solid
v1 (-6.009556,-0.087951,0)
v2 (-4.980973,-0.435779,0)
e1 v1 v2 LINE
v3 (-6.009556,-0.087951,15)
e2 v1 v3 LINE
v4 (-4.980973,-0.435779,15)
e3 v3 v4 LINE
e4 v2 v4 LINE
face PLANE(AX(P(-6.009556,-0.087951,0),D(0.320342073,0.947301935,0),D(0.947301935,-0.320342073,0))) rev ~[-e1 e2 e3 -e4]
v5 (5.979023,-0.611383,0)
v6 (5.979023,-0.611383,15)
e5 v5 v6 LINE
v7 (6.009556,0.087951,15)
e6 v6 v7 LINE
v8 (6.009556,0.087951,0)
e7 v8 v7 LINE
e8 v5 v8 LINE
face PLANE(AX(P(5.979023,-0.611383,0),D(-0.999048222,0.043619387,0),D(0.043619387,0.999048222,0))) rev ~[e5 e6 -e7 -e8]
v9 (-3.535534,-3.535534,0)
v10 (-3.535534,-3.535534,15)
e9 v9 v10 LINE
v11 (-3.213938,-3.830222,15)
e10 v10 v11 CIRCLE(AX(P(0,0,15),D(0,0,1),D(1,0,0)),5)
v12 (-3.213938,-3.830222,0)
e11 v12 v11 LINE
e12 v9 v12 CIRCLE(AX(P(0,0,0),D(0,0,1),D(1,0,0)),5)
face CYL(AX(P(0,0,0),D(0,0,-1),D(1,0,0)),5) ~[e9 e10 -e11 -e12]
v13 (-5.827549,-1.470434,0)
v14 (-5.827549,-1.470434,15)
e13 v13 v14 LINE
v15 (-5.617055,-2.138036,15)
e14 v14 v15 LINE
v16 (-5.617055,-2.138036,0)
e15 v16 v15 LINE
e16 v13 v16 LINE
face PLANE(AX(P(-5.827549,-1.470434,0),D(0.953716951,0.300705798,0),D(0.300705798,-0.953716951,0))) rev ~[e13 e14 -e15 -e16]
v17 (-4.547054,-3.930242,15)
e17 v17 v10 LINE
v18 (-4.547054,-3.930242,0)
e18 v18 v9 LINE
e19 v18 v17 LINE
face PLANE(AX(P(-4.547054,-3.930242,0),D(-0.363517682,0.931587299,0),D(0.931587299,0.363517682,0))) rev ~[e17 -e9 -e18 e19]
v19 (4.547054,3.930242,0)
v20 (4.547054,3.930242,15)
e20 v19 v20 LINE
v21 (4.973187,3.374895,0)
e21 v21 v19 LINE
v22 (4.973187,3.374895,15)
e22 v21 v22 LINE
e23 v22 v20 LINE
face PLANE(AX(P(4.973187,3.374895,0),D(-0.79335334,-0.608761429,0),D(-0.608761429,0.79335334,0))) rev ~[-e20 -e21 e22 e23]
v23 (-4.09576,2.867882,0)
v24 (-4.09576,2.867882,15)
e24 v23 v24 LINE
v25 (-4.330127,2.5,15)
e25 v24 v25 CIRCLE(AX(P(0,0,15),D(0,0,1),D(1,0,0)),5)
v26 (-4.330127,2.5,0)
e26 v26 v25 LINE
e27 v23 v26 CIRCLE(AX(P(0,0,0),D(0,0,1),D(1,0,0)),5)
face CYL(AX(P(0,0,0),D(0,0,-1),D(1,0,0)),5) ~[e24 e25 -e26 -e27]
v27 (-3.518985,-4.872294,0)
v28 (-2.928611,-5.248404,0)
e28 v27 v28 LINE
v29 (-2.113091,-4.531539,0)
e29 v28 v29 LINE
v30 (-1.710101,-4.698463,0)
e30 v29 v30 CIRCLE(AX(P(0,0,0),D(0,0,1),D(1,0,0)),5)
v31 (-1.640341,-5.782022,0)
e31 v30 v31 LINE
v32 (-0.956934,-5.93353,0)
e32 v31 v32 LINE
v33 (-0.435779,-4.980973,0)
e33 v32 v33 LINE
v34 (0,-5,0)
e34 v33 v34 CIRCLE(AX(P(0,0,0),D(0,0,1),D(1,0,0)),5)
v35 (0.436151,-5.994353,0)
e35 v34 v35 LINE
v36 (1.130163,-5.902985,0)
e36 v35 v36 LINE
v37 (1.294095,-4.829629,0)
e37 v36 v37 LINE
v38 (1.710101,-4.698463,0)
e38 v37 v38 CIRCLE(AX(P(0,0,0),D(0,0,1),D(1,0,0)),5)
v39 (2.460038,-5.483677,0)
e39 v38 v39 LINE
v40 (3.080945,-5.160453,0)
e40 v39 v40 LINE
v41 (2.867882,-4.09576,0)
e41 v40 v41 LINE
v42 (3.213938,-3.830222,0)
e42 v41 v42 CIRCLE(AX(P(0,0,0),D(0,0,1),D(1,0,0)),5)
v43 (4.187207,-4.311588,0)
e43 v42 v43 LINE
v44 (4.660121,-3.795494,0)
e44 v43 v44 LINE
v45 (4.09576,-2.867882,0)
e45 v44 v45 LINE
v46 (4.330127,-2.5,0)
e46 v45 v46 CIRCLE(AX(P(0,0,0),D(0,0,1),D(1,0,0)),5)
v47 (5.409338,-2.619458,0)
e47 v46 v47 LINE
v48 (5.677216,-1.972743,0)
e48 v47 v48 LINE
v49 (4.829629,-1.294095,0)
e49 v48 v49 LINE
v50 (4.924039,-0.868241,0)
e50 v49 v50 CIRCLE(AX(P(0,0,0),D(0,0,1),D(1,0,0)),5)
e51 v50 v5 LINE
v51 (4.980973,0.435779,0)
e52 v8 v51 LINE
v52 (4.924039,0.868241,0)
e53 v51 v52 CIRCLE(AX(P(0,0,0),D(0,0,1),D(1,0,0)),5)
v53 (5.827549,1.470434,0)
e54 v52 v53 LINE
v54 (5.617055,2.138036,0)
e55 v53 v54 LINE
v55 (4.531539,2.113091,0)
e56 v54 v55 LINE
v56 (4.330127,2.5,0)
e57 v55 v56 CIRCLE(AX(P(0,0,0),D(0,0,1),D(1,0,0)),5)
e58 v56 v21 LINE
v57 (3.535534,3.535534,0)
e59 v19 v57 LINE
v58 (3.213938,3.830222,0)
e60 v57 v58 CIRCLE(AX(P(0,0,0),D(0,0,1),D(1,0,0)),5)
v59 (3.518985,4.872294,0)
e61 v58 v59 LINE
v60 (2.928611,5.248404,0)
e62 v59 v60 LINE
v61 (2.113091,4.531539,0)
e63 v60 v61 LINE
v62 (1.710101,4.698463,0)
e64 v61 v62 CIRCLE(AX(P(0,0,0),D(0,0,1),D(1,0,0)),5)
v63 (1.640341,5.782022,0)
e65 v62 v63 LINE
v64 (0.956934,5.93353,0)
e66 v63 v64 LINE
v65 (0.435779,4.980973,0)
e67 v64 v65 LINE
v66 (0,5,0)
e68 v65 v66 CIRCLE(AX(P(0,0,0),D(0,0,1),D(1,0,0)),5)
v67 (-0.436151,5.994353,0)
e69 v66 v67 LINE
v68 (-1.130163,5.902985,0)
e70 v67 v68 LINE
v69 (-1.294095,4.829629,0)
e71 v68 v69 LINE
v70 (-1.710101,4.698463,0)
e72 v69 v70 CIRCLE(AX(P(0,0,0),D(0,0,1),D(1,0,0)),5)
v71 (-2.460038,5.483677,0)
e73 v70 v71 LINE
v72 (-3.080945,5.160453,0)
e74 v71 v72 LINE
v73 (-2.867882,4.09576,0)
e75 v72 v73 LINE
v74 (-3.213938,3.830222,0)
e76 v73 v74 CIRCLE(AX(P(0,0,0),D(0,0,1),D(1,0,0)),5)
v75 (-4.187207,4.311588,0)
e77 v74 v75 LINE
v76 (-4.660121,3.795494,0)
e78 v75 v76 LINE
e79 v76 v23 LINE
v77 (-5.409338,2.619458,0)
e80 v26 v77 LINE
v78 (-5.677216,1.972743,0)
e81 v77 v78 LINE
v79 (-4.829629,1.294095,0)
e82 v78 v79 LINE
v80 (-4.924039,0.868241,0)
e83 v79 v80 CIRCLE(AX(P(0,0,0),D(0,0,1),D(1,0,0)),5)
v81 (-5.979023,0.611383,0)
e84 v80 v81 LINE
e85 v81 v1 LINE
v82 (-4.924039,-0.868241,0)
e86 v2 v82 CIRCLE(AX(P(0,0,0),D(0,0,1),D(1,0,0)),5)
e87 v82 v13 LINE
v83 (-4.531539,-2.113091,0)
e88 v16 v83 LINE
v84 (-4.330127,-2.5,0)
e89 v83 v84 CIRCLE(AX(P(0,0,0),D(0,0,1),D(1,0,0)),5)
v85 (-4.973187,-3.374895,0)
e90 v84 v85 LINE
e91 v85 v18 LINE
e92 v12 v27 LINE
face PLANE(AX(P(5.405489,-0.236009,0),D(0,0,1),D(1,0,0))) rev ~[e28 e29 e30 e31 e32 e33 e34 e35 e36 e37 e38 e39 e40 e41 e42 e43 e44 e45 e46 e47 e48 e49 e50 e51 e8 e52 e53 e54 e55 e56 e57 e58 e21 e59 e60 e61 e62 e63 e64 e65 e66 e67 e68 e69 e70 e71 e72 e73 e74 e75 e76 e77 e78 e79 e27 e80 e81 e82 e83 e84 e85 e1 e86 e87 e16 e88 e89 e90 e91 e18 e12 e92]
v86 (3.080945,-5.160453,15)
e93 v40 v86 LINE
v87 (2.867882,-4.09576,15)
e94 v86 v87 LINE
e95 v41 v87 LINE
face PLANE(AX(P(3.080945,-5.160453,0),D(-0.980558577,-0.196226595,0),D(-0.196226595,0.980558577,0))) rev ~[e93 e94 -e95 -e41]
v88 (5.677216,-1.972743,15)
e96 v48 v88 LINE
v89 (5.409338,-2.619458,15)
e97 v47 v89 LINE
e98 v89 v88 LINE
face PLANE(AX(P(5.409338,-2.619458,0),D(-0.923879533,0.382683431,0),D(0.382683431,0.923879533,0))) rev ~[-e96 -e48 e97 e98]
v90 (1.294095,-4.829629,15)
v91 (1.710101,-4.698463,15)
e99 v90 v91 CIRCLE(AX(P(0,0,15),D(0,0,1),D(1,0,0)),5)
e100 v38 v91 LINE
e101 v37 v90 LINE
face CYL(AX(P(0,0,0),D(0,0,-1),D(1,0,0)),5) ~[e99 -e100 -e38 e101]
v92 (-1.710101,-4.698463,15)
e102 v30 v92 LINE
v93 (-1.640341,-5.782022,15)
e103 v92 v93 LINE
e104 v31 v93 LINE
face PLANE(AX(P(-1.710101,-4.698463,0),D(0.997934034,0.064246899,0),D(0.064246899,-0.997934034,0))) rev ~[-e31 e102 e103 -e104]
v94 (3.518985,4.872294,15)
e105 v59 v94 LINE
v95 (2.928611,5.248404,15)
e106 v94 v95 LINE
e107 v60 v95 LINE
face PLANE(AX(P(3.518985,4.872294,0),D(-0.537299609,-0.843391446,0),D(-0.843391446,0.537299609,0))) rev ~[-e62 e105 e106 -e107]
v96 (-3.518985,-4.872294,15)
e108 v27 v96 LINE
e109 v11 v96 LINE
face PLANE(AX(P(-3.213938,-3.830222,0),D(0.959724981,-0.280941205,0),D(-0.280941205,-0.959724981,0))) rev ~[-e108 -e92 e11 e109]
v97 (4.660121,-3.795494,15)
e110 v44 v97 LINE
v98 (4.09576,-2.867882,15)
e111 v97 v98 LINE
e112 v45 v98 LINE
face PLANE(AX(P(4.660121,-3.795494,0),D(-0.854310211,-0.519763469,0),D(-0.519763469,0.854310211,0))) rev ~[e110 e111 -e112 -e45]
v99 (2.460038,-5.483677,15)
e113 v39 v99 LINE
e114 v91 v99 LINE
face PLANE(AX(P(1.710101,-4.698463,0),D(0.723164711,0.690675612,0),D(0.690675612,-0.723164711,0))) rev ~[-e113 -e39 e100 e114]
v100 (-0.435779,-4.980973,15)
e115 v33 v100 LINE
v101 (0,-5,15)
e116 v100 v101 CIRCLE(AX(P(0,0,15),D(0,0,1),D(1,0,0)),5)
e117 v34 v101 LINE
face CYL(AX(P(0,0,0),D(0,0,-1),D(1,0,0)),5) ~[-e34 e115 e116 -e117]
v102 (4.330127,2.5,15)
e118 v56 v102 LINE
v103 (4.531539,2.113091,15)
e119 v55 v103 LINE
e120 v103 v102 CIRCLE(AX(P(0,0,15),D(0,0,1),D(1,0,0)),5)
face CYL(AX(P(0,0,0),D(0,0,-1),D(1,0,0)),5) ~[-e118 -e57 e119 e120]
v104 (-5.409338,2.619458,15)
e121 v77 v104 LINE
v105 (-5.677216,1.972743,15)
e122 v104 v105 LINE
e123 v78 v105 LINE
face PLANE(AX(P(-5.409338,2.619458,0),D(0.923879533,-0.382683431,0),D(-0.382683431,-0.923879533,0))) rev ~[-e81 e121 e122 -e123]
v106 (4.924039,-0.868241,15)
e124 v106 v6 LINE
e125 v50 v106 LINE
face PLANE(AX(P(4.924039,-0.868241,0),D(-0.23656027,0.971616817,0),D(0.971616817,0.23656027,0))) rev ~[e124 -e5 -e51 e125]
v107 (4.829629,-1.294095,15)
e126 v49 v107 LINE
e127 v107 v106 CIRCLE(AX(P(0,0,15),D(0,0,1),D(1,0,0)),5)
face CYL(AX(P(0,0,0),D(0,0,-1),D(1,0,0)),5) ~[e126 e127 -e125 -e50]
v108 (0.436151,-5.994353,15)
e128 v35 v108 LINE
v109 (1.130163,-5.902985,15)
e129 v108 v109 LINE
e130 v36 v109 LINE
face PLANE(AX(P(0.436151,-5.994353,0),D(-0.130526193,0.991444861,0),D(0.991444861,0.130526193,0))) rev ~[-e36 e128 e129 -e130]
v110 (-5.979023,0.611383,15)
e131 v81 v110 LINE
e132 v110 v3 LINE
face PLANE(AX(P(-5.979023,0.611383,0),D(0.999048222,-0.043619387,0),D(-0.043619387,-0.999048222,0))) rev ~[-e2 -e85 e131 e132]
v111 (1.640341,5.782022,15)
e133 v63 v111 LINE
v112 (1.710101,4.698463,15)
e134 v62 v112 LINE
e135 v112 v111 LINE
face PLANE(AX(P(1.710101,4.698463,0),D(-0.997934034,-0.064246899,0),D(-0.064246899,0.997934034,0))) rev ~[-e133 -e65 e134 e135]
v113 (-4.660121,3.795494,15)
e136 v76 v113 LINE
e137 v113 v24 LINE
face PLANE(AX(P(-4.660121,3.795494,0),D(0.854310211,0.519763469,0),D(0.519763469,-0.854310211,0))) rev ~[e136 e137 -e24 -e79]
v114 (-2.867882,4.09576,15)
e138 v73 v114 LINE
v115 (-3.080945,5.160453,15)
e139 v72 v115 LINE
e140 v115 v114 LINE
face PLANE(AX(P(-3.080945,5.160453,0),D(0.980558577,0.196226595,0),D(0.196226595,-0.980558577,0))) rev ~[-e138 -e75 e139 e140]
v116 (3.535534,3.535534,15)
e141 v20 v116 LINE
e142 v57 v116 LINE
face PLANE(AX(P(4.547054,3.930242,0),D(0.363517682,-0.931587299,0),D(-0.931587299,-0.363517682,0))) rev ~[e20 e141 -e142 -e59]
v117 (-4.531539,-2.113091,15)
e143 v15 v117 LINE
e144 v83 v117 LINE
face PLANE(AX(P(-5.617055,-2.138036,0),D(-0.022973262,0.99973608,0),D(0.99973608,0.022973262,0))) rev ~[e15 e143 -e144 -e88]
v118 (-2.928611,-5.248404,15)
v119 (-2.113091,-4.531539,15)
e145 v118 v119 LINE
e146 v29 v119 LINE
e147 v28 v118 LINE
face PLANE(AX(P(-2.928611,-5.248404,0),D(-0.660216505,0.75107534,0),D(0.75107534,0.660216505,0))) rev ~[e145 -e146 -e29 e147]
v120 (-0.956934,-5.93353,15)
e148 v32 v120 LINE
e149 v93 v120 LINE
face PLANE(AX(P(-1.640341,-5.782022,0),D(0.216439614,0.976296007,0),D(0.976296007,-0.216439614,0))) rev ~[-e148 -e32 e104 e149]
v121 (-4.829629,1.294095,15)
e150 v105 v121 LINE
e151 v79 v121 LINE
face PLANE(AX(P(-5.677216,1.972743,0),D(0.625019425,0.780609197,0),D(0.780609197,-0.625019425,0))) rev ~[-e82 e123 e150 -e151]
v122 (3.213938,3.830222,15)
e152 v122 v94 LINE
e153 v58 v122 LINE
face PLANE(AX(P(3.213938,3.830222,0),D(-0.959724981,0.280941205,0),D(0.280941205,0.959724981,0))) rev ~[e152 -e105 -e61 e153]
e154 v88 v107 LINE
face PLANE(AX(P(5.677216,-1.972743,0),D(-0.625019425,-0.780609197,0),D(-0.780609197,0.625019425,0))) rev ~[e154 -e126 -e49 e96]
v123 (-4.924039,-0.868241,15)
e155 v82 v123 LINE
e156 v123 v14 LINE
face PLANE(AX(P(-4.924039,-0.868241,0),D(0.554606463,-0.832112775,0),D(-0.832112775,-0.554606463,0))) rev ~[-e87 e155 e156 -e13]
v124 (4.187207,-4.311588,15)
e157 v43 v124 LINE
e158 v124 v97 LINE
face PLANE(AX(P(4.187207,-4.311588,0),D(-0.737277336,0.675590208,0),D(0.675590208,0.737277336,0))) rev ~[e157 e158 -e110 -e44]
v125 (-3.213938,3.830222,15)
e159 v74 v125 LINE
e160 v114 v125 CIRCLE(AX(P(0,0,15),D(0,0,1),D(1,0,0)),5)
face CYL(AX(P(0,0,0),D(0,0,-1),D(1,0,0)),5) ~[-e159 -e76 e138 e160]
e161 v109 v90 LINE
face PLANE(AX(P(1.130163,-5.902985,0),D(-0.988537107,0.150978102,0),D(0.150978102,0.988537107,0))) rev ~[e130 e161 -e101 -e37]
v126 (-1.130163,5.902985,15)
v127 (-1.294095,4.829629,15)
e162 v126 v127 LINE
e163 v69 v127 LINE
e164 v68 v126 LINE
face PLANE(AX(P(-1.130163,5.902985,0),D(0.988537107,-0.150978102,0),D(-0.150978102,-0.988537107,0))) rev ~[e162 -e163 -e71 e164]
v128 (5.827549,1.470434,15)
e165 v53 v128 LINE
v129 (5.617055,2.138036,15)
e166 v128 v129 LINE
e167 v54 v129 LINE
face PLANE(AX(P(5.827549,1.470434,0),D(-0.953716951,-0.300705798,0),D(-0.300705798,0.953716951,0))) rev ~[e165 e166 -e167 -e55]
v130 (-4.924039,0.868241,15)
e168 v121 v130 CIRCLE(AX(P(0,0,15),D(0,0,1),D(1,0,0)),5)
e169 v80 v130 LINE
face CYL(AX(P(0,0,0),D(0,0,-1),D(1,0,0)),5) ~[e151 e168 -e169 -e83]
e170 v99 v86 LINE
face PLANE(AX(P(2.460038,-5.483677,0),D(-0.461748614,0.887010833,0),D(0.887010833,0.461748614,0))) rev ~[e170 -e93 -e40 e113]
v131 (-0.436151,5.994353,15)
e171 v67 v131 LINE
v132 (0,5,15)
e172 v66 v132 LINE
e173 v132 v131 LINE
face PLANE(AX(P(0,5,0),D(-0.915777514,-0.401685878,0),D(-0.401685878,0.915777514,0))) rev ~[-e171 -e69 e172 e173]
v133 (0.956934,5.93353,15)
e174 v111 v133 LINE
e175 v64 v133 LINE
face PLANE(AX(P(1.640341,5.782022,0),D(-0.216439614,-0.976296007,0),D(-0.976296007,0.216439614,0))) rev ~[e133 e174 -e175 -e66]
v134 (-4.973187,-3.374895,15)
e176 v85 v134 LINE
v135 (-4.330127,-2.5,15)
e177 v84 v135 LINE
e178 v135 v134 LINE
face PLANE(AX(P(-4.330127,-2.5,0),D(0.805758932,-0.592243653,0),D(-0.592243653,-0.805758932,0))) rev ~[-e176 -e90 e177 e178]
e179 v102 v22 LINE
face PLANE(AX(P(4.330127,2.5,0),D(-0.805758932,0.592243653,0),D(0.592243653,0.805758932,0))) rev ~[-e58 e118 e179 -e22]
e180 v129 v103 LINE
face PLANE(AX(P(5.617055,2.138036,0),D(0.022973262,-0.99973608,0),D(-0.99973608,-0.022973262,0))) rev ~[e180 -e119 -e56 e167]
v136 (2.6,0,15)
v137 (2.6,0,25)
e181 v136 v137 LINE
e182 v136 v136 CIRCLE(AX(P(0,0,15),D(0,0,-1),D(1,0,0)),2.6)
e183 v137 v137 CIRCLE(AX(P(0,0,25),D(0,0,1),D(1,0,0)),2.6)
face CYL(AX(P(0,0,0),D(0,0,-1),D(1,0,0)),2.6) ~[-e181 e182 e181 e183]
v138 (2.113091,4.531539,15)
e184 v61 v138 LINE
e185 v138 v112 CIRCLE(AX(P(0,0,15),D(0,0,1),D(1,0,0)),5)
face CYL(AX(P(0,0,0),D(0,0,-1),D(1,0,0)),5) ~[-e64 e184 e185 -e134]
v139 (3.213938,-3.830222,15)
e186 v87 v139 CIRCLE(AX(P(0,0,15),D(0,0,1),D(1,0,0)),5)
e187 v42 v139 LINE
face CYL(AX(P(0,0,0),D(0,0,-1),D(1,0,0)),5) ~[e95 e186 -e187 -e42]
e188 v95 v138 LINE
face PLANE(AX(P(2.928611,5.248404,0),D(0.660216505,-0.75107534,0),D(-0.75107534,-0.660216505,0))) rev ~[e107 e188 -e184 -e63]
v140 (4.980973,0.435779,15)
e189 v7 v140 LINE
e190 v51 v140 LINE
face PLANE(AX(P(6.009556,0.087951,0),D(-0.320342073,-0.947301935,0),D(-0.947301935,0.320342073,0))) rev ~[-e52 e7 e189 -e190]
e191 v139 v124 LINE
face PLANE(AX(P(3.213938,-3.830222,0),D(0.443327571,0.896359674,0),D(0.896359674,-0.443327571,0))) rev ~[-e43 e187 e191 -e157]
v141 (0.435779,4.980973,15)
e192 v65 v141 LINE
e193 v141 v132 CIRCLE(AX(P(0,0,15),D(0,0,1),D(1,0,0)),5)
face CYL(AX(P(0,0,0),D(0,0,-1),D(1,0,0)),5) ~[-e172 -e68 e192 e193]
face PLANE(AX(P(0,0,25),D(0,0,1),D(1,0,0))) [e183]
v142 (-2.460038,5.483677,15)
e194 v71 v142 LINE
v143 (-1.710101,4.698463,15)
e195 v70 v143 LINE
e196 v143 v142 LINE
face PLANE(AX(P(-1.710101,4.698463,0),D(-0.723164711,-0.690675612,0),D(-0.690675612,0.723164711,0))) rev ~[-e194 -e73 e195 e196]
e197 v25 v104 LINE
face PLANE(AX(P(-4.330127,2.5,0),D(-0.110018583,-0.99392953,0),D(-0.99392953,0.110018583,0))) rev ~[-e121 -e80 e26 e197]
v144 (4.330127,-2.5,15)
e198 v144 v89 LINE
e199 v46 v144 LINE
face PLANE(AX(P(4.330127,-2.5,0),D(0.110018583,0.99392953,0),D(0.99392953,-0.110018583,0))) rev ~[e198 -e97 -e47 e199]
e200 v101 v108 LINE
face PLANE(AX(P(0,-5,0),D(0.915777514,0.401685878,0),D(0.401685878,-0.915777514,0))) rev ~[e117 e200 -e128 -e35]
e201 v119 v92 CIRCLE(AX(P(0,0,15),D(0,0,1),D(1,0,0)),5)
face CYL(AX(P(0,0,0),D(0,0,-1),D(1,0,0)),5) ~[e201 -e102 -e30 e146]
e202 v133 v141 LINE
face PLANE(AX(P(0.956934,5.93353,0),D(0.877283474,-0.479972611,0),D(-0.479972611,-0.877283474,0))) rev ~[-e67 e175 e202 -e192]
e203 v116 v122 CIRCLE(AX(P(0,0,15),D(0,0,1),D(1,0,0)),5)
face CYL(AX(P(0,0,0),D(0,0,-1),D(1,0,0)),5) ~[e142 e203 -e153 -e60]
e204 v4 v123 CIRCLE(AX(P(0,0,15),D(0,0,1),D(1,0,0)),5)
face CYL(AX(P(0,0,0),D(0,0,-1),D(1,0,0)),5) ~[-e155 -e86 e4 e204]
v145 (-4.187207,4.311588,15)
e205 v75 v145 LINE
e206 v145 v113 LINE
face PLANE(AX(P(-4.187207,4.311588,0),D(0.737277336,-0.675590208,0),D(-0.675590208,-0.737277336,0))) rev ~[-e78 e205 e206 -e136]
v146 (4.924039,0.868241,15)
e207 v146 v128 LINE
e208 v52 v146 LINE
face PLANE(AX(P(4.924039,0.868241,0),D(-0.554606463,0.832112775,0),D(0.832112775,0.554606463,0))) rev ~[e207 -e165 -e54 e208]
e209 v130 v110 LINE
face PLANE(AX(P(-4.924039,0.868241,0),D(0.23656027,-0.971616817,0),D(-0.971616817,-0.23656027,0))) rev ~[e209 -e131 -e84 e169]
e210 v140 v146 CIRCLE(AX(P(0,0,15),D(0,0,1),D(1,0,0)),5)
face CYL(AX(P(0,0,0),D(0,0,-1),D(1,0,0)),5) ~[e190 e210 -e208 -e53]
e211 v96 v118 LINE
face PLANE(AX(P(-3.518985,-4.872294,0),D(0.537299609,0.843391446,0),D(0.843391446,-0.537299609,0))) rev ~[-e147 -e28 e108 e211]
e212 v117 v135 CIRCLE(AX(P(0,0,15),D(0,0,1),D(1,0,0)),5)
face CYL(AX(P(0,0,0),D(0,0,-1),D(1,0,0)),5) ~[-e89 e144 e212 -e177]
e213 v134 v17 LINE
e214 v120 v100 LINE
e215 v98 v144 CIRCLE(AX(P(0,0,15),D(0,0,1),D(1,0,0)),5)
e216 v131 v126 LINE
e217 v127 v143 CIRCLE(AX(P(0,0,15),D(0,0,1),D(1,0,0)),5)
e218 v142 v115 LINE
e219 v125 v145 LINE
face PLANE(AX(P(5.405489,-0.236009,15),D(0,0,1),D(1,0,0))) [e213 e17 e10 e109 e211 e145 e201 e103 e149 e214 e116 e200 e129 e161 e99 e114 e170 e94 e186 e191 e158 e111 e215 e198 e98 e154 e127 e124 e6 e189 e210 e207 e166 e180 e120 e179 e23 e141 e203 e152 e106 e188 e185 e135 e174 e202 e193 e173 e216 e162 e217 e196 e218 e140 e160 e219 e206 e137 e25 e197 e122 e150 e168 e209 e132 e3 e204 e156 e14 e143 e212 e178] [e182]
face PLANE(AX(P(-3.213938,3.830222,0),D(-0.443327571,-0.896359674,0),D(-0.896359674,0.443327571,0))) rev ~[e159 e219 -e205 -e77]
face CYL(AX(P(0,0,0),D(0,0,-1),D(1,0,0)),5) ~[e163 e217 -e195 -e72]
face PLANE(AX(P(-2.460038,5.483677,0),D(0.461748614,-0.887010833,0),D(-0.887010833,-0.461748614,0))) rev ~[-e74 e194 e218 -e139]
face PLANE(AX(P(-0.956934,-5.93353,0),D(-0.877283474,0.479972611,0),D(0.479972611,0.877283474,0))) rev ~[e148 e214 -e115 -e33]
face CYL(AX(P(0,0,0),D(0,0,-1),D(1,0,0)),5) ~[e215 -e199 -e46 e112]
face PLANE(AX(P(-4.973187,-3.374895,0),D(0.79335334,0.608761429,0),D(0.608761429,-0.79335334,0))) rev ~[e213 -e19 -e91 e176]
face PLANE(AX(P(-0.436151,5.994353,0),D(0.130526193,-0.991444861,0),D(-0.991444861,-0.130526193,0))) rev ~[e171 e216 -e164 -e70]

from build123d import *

# Parameters (mm, degrees)
SKETCH1_R           = 5
BOSS_EXTRUDE1_DEPTH = 15
SKETCH1_3_R         = 2.6
BOSS_EXTRUDE2_DEPTH = 25
BOSS_EXTRUDE3_DEPTH = 15


with BuildPart() as part:
    # Sketch1 → Boss-Extrude1 (new body)
    with BuildSketch(Plane.XY):
        Circle(SKETCH1_R)
    extrude(amount=BOSS_EXTRUDE1_DEPTH)

    # Sketch1<3> → Boss-Extrude2 (add)
    with BuildSketch(Plane.XY):
        Circle(SKETCH1_3_R)
    extrude(amount=BOSS_EXTRUDE2_DEPTH)

    # Sketch2 → Boss-Extrude3 (add)
    with BuildSketch(Plane(origin=(0, 0, 0), x_dir=(-1, 0, 0), z_dir=(0, 0, -1))):
        with BuildLine():
            Line((0.436151452, 5.994353336), (1.130162855, 5.902985001))
            Line((1.130162855, 5.902985001), (1.294095226, 4.829629131))
            ThreePointArc((1.294095226, 4.829629131), (0.652630961, 4.957224307), (0, 5))
            Line((0, 5), (0.436151452, 5.994353336))
        make_face()
        with BuildLine():
            Line((2.460037888, 5.483677014), (3.080945471, 5.160452984))
            Line((3.080945471, 5.160452984), (2.867882182, 4.095760221))
            ThreePointArc((2.867882182, 4.095760221), (2.308743066, 4.435054166), (1.710100717, 4.698463104))
            Line((1.710100717, 4.698463104), (2.460037888, 5.483677014))
        make_face()
        with BuildLine():
            Line((4.187207448, 4.311588314), (4.660120594, 3.795494178))
            Line((4.660120594, 3.795494178), (4.095760221, 2.867882182))
            ThreePointArc((4.095760221, 2.867882182), (3.686386684, 3.377951038), (3.213938048, 3.830222216))
            Line((3.213938048, 3.830222216), (4.187207448, 4.311588314))
        make_face()
        with BuildLine():
            Line((5.409337994, 2.619458431), (5.677216396, 1.972742758))
            Line((5.677216396, 1.972742758), (4.829629131, 1.294095226))
            ThreePointArc((4.829629131, 1.294095226), (4.619397663, 1.913417162), (4.330127019, 2.5))
            Line((4.330127019, 2.5), (5.409337994, 2.619458431))
        make_face()
        with BuildLine():
            Line((5.979022544, 0.611383202), (6.009556115, -0.087950553))
            Line((6.009556115, -0.087950553), (4.98097349, -0.435778714))
            ThreePointArc((4.98097349, -0.435778714), (4.995241108, 0.218096937), (4.924038765, 0.868240888))
            Line((4.924038765, 0.868240888), (5.979022544, 0.611383202))
        make_face()
        with BuildLine():
            Line((5.827548734, -1.470433864), (5.617054675, -2.13803573))
            Line((5.617054675, -2.13803573), (4.531538935, -2.113091309))
            ThreePointArc((4.531538935, -2.113091309), (4.768584754, -1.503528998), (4.924038765, -0.868240888))
            Line((4.924038765, -0.868240888), (5.827548734, -1.470433864))
        make_face()
        with BuildLine():
            Line((4.973186542, -3.374894905), (4.547053542, -3.930242243))
            Line((4.547053542, -3.930242243), (3.535533906, -3.535533906))
            ThreePointArc((3.535533906, -3.535533906), (3.966766701, -3.043807145), (4.330127019, -2.5))
            Line((4.330127019, -2.5), (4.973186542, -3.374894905))
        make_face()
        with BuildLine():
            Line((3.518984656, -4.872293812), (2.928610644, -5.248403538))
            Line((2.928610644, -5.248403538), (2.113091309, -4.531538935))
            ThreePointArc((2.113091309, -4.531538935), (2.686498042, -4.216957229), (3.213938048, -3.830222216))
            Line((3.213938048, -3.830222216), (3.518984656, -4.872293812))
        make_face()
        with BuildLine():
            Line((1.640341286, -5.782022178), (0.956934081, -5.933529908))
            Line((0.956934081, -5.933529908), (0.435778714, -4.98097349))
            ThreePointArc((0.435778714, -4.98097349), (1.08219807, -4.881480036), (1.710100717, -4.698463104))
            Line((1.710100717, -4.698463104), (1.640341286, -5.782022178))
        make_face()
        with BuildLine():
            Line((-0.436151452, -5.994353336), (-1.130162855, -5.902985001))
            Line((-1.130162855, -5.902985001), (-1.294095226, -4.829629131))
            ThreePointArc((-1.294095226, -4.829629131), (-0.652630961, -4.957224307), (0, -5))
            Line((0, -5), (-0.436151452, -5.994353336))
        make_face()
        with BuildLine():
            Line((-2.460037888, -5.483677014), (-3.080945471, -5.160452984))
            Line((-3.080945471, -5.160452984), (-2.867882182, -4.095760221))
            ThreePointArc((-2.867882182, -4.095760221), (-2.308743066, -4.435054166), (-1.710100717, -4.698463104))
            Line((-1.710100717, -4.698463104), (-2.460037888, -5.483677014))
        make_face()
        with BuildLine():
            Line((-4.187207448, -4.311588314), (-4.660120594, -3.795494178))
            Line((-4.660120594, -3.795494178), (-4.095760221, -2.867882182))
            ThreePointArc((-4.095760221, -2.867882182), (-3.686386684, -3.377951038), (-3.213938048, -3.830222216))
            Line((-3.213938048, -3.830222216), (-4.187207448, -4.311588314))
        make_face()
        with BuildLine():
            Line((-5.409337994, -2.619458431), (-5.677216396, -1.972742758))
            Line((-5.677216396, -1.972742758), (-4.829629131, -1.294095226))
            ThreePointArc((-4.829629131, -1.294095226), (-4.619397663, -1.913417162), (-4.330127019, -2.5))
            Line((-4.330127019, -2.5), (-5.409337994, -2.619458431))
        make_face()
        with BuildLine():
            Line((-5.979022544, -0.611383202), (-6.009556115, 0.087950553))
            Line((-6.009556115, 0.087950553), (-4.98097349, 0.435778714))
            ThreePointArc((-4.98097349, 0.435778714), (-4.995241108, -0.218096937), (-4.924038765, -0.868240888))
            Line((-4.924038765, -0.868240888), (-5.979022544, -0.611383202))
        make_face()
        with BuildLine():
            Line((-5.827548734, 1.470433864), (-5.617054675, 2.13803573))
            Line((-5.617054675, 2.13803573), (-4.531538935, 2.113091309))
            ThreePointArc((-4.531538935, 2.113091309), (-4.768584754, 1.503528998), (-4.924038765, 0.868240888))
            Line((-4.924038765, 0.868240888), (-5.827548734, 1.470433864))
        make_face()
        with BuildLine():
            Line((-4.973186542, 3.374894905), (-4.547053542, 3.930242243))
            Line((-4.547053542, 3.930242243), (-3.535533906, 3.535533906))
            ThreePointArc((-3.535533906, 3.535533906), (-3.966766701, 3.043807145), (-4.330127019, 2.5))
            Line((-4.330127019, 2.5), (-4.973186542, 3.374894905))
        make_face()
        with BuildLine():
            Line((-3.518984656, 4.872293812), (-2.928610644, 5.248403538))
            Line((-2.928610644, 5.248403538), (-2.113091309, 4.531538935))
            ThreePointArc((-2.113091309, 4.531538935), (-2.686498042, 4.216957229), (-3.213938048, 3.830222216))
            Line((-3.213938048, 3.830222216), (-3.518984656, 4.872293812))
        make_face()
        with BuildLine():
            Line((-1.640341286, 5.782022178), (-0.956934081, 5.933529908))
            Line((-0.956934081, 5.933529908), (-0.435778714, 4.98097349))
            ThreePointArc((-0.435778714, 4.98097349), (-1.08219807, 4.881480036), (-1.710100717, 4.698463104))
            Line((-1.710100717, 4.698463104), (-1.640341286, 5.782022178))
        make_face()
    extrude(amount=-BOSS_EXTRUDE3_DEPTH)


solid = part.part
